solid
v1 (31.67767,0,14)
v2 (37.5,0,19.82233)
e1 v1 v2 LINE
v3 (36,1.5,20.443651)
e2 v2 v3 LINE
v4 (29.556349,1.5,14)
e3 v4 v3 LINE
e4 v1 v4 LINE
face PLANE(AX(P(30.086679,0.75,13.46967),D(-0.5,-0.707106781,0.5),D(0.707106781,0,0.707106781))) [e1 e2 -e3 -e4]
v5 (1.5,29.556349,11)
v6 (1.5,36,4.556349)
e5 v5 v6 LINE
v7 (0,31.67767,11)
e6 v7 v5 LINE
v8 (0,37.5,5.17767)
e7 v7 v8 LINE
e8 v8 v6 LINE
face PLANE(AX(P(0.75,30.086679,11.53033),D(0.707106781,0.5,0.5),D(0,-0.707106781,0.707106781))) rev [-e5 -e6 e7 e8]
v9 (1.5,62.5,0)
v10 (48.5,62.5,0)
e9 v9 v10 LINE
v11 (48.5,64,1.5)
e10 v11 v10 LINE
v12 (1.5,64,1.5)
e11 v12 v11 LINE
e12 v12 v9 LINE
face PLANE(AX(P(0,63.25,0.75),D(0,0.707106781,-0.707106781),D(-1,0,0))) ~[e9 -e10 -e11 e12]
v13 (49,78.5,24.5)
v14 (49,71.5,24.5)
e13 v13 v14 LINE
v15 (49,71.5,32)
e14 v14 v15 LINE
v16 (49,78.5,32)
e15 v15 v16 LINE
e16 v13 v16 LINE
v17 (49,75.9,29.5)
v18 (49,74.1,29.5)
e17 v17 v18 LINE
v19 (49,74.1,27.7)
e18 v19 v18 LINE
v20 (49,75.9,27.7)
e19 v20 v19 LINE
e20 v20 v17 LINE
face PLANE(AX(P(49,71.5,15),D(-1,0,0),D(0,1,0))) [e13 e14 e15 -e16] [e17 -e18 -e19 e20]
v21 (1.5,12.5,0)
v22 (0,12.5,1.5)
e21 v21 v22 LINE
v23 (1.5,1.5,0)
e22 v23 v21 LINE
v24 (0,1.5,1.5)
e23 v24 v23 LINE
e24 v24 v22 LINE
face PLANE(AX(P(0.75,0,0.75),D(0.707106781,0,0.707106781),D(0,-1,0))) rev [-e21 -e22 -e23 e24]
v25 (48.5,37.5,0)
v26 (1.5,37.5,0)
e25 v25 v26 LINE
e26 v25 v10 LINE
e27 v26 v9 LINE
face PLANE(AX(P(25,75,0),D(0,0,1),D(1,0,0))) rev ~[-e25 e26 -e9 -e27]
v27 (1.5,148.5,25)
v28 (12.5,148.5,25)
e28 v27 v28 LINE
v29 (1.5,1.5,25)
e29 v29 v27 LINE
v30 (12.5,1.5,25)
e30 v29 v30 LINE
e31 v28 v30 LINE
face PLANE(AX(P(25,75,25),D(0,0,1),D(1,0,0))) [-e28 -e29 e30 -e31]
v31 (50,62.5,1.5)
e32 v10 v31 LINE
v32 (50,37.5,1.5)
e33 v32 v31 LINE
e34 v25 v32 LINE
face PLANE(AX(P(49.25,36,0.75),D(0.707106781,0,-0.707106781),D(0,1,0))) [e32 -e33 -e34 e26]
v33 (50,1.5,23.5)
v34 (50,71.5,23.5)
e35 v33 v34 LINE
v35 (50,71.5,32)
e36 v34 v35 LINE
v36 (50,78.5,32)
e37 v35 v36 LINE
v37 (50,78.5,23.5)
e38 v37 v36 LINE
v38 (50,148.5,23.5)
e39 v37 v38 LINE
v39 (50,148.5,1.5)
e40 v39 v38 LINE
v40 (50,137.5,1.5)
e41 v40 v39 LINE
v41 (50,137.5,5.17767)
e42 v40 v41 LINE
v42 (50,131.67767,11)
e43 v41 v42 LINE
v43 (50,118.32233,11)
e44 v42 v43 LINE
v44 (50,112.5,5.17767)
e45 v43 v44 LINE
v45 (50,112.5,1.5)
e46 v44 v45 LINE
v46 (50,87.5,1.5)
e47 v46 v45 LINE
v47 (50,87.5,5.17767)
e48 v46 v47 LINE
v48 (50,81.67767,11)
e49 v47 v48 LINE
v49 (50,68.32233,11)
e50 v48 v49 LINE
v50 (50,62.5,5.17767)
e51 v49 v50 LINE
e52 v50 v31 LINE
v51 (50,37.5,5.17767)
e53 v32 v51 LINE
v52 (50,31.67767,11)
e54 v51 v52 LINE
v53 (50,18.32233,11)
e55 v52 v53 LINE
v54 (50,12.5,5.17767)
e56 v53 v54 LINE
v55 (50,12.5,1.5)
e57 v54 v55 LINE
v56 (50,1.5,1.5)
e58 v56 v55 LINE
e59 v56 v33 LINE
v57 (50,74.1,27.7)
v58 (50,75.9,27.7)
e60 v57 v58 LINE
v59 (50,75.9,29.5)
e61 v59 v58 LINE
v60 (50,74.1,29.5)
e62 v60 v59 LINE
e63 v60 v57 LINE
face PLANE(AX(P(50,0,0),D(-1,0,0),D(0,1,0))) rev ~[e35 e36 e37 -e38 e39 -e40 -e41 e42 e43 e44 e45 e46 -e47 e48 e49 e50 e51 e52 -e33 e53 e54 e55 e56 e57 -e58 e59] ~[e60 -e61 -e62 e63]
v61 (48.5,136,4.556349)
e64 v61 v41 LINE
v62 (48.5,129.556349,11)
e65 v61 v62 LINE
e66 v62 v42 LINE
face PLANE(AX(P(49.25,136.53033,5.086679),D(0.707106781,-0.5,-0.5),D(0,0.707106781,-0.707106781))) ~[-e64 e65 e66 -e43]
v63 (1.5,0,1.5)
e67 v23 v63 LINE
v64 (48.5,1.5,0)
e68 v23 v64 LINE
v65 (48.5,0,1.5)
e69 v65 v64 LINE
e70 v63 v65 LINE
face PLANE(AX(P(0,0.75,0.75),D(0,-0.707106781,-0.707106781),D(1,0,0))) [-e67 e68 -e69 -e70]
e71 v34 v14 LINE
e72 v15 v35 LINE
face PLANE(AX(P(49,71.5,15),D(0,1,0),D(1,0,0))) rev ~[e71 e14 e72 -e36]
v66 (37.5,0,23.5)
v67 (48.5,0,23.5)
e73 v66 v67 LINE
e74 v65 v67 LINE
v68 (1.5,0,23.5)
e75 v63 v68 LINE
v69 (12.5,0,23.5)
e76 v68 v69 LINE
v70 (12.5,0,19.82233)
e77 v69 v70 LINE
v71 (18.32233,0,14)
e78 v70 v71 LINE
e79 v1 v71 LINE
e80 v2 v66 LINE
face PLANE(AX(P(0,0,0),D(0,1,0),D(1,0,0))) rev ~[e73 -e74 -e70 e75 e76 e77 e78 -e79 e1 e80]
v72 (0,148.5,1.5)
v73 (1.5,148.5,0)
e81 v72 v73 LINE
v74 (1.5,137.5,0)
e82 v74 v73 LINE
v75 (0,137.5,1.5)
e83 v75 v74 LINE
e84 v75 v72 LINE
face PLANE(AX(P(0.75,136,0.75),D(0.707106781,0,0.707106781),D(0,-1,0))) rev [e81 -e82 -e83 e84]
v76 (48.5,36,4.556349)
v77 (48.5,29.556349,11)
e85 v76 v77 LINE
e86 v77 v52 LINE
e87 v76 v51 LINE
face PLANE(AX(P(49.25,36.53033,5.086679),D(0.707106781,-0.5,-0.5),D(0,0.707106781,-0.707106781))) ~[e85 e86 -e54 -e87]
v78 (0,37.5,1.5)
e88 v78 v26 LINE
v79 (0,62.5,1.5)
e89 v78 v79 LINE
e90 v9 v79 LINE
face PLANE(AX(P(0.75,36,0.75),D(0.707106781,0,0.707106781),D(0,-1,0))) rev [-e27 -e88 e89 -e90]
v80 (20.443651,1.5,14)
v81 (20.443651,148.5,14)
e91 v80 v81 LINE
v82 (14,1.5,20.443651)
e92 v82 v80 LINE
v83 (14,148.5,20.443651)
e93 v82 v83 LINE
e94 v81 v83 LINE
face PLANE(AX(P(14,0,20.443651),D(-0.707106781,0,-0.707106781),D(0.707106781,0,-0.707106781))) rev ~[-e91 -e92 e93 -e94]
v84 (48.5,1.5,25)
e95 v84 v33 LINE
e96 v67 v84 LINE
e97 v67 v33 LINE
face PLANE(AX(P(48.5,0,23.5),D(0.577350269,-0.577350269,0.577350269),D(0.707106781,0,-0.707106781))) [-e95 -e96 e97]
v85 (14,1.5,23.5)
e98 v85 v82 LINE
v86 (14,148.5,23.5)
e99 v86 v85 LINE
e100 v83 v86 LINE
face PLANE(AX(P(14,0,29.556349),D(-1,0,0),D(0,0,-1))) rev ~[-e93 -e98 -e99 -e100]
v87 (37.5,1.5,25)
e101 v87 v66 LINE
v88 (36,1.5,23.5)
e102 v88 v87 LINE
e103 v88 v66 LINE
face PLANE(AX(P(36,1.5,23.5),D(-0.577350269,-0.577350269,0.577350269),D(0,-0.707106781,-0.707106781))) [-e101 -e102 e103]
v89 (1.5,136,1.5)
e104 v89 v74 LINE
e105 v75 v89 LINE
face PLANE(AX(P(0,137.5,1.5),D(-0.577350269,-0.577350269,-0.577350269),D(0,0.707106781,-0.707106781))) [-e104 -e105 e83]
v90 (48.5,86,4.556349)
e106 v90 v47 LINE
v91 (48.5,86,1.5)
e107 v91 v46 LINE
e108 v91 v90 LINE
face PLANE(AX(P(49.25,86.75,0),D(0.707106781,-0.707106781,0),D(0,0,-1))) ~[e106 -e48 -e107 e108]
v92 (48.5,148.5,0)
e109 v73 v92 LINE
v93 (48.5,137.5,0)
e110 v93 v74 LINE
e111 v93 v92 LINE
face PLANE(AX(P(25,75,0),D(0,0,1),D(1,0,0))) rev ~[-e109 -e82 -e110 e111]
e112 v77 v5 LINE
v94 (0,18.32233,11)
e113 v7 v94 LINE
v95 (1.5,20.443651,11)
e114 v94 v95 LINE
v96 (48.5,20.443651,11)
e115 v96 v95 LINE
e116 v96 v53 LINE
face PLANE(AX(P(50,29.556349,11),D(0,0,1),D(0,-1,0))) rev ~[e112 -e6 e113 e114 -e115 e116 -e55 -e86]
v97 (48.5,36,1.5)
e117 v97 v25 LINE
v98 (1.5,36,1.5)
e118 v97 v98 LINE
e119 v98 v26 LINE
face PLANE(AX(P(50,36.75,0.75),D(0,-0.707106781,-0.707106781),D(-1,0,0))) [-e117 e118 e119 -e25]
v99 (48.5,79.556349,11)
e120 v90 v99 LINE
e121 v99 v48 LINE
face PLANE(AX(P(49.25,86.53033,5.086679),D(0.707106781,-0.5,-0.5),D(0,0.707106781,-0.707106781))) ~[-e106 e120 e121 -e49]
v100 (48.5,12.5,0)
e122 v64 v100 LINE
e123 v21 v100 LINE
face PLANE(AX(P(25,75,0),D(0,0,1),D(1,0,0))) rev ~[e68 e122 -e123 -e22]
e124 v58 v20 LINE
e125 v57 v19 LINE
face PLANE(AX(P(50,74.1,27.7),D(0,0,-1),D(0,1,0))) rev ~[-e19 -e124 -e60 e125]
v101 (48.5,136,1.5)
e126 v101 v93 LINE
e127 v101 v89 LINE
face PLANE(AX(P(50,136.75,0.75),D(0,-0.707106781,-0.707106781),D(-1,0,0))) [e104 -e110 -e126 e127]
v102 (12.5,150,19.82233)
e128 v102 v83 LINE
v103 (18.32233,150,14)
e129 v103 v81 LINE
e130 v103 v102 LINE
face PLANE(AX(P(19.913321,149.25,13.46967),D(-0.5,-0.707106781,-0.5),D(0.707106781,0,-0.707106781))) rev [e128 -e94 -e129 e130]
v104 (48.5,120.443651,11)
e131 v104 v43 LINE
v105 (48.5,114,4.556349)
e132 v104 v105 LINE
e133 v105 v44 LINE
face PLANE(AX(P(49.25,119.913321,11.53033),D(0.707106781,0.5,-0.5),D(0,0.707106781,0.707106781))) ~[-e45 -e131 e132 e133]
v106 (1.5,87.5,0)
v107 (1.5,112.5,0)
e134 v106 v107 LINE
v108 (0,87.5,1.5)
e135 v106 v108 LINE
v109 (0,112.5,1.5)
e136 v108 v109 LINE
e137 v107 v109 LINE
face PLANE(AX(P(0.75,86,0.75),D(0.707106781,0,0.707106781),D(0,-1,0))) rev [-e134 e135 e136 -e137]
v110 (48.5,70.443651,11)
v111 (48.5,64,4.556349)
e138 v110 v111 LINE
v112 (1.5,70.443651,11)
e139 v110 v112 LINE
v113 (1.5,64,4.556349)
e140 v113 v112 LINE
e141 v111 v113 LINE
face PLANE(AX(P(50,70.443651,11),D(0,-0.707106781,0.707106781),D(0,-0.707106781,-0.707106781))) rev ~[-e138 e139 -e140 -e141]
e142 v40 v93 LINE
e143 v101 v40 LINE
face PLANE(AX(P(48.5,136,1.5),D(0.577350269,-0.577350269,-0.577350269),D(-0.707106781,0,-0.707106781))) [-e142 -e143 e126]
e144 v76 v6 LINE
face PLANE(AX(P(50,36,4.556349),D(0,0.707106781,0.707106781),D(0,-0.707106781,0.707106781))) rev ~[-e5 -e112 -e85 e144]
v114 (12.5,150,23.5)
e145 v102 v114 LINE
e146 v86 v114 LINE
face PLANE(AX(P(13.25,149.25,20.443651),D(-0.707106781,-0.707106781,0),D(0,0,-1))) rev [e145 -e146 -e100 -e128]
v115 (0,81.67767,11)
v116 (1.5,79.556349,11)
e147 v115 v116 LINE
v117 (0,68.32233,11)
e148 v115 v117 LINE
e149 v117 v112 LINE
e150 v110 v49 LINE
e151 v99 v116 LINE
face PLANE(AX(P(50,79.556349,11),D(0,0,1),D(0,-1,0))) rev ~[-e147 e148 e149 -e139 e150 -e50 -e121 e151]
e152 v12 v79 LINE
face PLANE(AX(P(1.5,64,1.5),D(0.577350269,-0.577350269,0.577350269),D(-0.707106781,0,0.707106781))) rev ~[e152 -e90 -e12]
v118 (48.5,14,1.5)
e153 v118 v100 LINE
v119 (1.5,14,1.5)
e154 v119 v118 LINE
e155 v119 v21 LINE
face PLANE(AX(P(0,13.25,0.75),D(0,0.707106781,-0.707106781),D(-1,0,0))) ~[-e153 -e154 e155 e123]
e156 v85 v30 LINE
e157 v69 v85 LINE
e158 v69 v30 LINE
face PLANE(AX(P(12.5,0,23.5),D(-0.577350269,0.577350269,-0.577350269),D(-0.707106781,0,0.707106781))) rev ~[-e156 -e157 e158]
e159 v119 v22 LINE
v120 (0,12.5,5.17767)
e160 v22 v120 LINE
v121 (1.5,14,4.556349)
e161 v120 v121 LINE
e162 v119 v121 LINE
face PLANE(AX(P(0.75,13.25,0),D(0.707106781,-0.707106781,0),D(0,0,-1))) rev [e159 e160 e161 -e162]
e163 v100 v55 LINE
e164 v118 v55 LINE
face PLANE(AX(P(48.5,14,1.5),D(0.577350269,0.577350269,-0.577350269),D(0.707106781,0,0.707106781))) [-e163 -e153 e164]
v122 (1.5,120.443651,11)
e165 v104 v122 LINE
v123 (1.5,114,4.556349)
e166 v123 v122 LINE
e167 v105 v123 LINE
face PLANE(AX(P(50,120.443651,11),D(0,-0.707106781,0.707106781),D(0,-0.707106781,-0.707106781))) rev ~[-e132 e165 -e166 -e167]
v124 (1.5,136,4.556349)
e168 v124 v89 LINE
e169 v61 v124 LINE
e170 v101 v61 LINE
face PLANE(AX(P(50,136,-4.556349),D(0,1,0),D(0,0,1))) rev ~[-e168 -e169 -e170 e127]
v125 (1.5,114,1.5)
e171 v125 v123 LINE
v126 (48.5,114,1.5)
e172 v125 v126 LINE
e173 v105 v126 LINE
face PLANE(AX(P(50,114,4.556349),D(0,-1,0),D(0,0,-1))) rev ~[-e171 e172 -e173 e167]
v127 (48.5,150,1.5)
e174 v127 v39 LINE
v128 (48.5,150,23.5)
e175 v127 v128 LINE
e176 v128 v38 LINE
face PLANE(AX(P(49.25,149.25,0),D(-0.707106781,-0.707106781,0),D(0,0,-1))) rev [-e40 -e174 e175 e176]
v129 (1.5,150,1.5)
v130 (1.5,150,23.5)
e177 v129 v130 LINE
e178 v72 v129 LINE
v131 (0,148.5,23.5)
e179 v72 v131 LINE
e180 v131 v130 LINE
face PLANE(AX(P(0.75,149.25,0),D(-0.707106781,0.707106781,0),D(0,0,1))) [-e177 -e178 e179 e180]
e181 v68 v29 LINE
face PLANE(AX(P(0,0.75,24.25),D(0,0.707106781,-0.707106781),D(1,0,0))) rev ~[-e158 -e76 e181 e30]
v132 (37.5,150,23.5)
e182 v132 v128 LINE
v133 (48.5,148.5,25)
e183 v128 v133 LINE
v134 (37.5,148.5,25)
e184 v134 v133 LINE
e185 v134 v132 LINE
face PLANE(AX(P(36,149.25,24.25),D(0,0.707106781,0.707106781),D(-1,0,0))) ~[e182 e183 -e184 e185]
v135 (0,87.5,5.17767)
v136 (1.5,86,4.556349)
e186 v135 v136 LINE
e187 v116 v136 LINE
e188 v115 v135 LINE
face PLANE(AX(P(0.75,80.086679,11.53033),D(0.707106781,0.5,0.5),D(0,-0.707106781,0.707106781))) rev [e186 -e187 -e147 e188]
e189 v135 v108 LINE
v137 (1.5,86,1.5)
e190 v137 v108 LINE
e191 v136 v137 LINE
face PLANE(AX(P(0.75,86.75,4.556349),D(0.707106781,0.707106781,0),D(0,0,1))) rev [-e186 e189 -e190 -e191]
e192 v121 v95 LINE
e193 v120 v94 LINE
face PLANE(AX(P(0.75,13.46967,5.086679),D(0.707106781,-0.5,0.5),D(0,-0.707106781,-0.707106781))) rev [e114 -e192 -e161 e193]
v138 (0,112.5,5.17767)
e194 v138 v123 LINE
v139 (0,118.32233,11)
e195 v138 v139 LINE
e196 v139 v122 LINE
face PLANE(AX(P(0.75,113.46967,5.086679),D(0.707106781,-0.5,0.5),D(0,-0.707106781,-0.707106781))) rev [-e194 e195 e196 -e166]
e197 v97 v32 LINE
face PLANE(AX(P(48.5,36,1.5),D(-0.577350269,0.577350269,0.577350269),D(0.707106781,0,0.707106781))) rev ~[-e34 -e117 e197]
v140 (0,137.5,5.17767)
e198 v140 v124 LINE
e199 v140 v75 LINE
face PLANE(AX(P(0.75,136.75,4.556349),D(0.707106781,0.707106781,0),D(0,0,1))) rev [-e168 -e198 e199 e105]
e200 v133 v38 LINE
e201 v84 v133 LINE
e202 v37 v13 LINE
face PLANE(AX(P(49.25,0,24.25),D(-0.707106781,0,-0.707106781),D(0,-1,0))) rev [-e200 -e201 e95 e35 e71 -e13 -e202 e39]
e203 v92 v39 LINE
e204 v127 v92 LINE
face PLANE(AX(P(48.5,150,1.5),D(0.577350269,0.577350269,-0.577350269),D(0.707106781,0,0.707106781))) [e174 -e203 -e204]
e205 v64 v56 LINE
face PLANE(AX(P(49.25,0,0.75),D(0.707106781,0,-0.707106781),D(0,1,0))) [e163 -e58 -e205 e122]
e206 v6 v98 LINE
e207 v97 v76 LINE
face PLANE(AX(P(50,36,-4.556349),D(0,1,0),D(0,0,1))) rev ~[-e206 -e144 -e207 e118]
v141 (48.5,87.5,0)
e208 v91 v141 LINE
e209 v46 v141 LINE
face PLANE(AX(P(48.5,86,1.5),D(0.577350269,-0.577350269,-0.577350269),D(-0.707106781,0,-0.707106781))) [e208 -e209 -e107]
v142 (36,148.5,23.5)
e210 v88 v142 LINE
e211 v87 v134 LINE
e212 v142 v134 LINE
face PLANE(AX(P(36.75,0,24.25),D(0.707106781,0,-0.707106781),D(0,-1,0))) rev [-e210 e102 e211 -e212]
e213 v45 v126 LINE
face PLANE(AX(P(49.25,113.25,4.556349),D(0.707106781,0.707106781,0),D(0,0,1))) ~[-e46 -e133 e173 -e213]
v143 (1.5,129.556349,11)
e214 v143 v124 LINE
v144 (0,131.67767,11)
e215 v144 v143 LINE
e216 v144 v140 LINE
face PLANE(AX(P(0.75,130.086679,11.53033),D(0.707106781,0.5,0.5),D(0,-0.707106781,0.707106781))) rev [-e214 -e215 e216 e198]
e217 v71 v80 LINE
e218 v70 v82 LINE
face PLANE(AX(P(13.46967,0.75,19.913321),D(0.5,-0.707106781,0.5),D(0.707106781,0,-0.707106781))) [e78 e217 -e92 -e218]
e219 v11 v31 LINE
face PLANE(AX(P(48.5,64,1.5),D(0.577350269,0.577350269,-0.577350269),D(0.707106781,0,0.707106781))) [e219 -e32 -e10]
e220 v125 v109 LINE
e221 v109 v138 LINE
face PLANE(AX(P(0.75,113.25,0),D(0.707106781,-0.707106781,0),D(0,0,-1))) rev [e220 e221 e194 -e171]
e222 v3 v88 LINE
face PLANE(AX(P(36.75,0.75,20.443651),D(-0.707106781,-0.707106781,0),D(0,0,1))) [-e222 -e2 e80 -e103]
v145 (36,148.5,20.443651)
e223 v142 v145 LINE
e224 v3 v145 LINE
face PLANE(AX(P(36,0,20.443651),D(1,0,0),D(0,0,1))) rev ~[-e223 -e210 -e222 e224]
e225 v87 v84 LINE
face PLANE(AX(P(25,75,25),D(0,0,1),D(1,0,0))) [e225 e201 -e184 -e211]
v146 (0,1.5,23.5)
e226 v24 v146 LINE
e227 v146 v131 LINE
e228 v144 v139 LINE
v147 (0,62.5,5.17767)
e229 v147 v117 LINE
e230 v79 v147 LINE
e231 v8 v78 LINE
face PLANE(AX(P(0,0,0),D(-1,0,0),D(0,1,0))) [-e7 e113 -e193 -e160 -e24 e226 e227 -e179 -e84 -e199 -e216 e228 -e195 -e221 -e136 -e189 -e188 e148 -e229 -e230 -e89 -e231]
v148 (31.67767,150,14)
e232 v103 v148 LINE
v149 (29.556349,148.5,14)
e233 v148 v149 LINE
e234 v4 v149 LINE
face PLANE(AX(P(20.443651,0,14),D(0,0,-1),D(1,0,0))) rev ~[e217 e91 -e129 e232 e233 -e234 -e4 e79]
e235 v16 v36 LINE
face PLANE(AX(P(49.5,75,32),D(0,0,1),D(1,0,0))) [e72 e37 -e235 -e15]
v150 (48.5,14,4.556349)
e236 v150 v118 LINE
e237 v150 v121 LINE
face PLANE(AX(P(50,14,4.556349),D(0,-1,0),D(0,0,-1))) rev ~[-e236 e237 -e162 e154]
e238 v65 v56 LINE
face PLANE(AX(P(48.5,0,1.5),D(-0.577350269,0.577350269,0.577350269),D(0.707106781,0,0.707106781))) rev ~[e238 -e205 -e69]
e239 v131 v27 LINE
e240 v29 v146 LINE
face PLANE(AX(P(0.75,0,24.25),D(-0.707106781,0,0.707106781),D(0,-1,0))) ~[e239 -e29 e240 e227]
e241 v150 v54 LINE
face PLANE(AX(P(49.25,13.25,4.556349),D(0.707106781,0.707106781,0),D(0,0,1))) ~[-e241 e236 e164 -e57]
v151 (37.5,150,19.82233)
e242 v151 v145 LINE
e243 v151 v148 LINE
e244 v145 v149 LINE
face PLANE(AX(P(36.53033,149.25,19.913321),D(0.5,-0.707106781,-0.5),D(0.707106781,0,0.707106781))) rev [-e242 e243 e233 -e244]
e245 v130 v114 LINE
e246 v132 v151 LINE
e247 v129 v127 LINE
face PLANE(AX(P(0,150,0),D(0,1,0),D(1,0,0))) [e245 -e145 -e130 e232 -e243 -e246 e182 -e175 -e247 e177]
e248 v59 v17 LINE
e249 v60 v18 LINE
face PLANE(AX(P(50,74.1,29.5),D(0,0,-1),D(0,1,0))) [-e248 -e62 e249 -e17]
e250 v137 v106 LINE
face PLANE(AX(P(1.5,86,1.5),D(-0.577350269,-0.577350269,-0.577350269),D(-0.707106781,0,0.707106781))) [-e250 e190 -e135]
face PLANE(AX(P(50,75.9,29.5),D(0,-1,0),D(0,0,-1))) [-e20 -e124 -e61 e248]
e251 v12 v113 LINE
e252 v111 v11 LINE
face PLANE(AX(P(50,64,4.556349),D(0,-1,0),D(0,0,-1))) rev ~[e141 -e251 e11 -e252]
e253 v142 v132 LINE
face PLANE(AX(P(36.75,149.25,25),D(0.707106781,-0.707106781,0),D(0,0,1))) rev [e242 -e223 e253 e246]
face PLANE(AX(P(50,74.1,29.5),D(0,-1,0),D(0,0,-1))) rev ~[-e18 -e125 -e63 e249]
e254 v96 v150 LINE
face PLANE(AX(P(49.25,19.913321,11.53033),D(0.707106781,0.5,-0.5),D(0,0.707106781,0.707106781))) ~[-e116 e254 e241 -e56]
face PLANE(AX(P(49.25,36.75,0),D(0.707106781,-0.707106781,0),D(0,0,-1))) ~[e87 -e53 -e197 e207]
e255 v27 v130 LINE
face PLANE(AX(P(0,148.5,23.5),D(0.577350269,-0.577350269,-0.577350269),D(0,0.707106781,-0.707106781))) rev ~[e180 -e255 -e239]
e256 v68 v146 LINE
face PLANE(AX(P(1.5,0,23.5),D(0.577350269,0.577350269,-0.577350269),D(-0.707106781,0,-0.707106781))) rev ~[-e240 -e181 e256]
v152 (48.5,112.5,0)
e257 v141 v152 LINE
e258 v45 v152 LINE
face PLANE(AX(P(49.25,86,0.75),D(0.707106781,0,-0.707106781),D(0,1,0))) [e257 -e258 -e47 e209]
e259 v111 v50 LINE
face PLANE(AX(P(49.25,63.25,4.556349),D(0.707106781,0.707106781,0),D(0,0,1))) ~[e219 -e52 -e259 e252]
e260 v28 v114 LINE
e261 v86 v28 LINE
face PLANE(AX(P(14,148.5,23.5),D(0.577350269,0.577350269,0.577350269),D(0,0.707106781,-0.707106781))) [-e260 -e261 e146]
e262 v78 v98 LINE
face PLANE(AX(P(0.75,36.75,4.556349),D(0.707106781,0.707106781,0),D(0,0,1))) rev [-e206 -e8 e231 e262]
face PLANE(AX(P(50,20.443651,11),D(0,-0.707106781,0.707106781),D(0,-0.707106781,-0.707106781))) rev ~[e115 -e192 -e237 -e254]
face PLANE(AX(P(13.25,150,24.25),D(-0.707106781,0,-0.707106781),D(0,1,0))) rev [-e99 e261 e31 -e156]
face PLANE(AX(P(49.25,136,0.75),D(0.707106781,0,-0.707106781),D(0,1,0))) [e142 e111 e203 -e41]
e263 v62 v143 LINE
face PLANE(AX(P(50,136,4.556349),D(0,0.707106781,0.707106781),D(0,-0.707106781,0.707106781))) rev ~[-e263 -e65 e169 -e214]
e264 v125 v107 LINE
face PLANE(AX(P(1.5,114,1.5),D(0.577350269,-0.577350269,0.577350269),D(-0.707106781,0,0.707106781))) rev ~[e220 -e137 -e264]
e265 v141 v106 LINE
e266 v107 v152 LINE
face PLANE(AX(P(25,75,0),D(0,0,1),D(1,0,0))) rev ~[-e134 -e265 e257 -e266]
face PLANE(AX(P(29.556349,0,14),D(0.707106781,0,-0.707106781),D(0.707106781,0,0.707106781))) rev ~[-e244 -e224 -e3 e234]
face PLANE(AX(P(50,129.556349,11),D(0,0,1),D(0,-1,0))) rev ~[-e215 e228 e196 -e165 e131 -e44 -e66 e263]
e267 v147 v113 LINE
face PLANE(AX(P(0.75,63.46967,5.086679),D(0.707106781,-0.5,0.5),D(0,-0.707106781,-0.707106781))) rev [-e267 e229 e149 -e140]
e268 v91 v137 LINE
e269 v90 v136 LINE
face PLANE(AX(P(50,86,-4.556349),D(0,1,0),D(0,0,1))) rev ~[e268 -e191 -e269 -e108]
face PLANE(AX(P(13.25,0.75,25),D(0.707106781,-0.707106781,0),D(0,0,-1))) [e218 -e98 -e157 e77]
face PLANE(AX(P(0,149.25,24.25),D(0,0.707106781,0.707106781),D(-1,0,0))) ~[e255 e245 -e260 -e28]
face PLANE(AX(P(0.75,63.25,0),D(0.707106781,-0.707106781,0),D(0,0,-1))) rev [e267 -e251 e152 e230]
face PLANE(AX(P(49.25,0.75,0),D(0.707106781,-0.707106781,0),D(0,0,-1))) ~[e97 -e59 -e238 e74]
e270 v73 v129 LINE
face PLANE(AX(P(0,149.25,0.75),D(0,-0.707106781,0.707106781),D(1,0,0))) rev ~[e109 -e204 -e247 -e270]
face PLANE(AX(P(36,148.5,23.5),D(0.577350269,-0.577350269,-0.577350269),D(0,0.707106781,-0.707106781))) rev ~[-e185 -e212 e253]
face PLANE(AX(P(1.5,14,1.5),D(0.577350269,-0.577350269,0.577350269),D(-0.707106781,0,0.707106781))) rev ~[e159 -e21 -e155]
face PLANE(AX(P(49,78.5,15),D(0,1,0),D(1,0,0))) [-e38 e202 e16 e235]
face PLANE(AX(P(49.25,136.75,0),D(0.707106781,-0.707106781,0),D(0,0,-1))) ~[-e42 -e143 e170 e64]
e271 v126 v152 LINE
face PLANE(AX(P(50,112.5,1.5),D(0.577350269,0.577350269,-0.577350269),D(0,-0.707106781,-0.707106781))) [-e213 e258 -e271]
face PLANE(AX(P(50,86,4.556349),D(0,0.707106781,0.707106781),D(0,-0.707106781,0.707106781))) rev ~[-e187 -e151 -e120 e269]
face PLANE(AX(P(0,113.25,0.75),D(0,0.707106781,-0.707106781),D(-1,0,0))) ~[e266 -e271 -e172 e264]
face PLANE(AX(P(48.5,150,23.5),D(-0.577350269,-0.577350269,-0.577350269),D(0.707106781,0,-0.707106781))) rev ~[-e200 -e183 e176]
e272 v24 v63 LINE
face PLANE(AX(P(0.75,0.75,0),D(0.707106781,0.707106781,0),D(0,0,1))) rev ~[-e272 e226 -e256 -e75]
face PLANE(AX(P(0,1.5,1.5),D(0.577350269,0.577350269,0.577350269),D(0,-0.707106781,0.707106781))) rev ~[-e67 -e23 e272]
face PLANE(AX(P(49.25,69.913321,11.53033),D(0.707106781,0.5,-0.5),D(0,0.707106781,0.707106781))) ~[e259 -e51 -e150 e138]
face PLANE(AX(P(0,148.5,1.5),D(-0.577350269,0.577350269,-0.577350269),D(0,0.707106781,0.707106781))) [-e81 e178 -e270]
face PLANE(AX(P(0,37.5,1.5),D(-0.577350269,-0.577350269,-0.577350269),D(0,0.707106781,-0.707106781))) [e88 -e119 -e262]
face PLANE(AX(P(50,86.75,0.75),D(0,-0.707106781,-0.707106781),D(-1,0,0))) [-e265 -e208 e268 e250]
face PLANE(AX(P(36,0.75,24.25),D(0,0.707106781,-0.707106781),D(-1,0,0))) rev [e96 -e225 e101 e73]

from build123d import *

# Parameters (mm, degrees)
SKETCH1_W                = 50
SKETCH1_H                = 150
BOSS_EXTRUDE1_DEPTH      = 25
CUT_EXTRUDE1_DEPTH       = 161.078105936
CUT_EXTRUDE2_DEPTH       = 161.078105936
LPATTERN1_COUNT          = 3
LPATTERN1_PITCH          = 50
CHAMFER1_SIZE            = 1.5
BOSS_EXTRUDE2_DEPTH      = 7
BOSS_EXTRUDE2_DEPTH_BACK = 10
SKETCH4_W                = 1
SKETCH4_H                = 7
SKETCH5_W                = 1.8
SKETCH5_H                = 1.8
CUT_EXTRUDE3_DEPTH       = 7


with BuildPart() as part:
    # Sketch1 → Boss-Extrude1 (new body)
    with BuildSketch(Plane.XY):
        with Locations((25, 75)):
            Rectangle(SKETCH1_W, SKETCH1_H)
    extrude(amount=BOSS_EXTRUDE1_DEPTH)

    # Sketch2 → Cut-Extrude1 (cut, through all)
    with BuildSketch(Plane.XZ):
        Polygon((29.556349186, 36), (20.443650814, 36), (14, 29.556349186), (14, 20.443650814), (20.443650814, 14), (29.556349186, 14), (36, 20.443650814), (36, 29.556349186), align=None)
    extrude(amount=-CUT_EXTRUDE1_DEPTH, mode=Mode.SUBTRACT)

    # Sketch3 → Cut-Extrude2 (cut, through all)
    with BuildSketch(Plane(origin=(50, 0, 0), x_dir=(0, 0, -1), z_dir=(1, 0, 0))):
        Polygon((-4.556349186, 36), (-11, 29.556349186), (-11, 20.443650814), (-4.556349186, 14), (4.556349186, 14), (11, 20.443650814), (11, 29.556349186), (4.556349186, 36), align=None)
    cut_extrude2 = extrude(amount=-CUT_EXTRUDE2_DEPTH, mode=Mode.SUBTRACT)

    # LPattern1: Cut-Extrude2 ×3
    with Locations(*[(0, i * LPATTERN1_PITCH, 0) for i in range(1, LPATTERN1_COUNT)]):
        add(cut_extrude2, mode=Mode.SUBTRACT)

    # Chamfer1
    chamfer1_edges = [part.edges().sort_by_distance(p)[0] for p in [
        (50, 75, 25),
        (50, 143, 0),
        (50, 136, 2.278174593),
        (0, 100, 0),
        (25, 136, 0),
        (25, 114, 0),
        (0, 136, 2.278174593),
        (0, 114, 2.278174593),
        (0, 117.221825407, 7.778174593),
        (0, 132.778174593, 7.778174593),
        (50, 132.778174593, 7.778174593),
        (50, 117.221825407, 7.778174593),
        (50, 114, 2.278174593),
        (43, 150, 25),
        (43, 0, 25),
        (7, 150, 25),
        (14, 75, 25),
        (36, 75, 25),
        (36, 150, 22.721825407),
        (14, 150, 22.721825407),
        (36, 0, 22.721825407),
        (14, 0, 22.721825407),
        (17.221825407, 0, 17.221825407),
        (32.778174593, 0, 17.221825407),
        (32.778174593, 150, 17.221825407),
        (17.221825407, 150, 17.221825407),
        (0, 75, 25),
        (25, 150, 0),
        (50, 7, 0),
        (25, 0, 0),
        (0, 7, 0),
        (50, 50, 0),
        (25, 14, 0),
        (25, 36, 0),
        (0, 143, 0),
        (0, 36, 2.278174593),
        (0, 14, 2.278174593),
        (0, 17.221825407, 7.778174593),
        (0, 32.778174593, 7.778174593),
        (50, 36, 2.278174593),
        (50, 32.778174593, 7.778174593),
        (50, 17.221825407, 7.778174593),
        (50, 14, 2.278174593),
        (7, 0, 25),
        (0, 150, 12.5),
        (50, 150, 12.5),
        (50, 0, 12.5),
        (0, 0, 12.5),
        (50, 100, 0),
        (50, 86, 2.278174593),
        (0, 50, 0),
        (25, 86, 0),
        (25, 64, 0),
        (0, 86, 2.278174593),
        (0, 64, 2.278174593),
        (0, 67.221825407, 7.778174593),
        (0, 82.778174593, 7.778174593),
        (50, 82.778174593, 7.778174593),
        (50, 67.221825407, 7.778174593),
        (50, 64, 2.278174593),
    ]]
    chamfer(chamfer1_edges, length=CHAMFER1_SIZE)

    # Sketch4 → Boss-Extrude2 (add, two sides: drawn at the far end of the back side and taken through both)
    with BuildSketch(Plane.XY.offset(25).offset(-BOSS_EXTRUDE2_DEPTH_BACK)):
        with Locations((49.5, 75)):
            Rectangle(SKETCH4_W, SKETCH4_H)
    extrude(amount=BOSS_EXTRUDE2_DEPTH + BOSS_EXTRUDE2_DEPTH_BACK)

    # Sketch5 → Cut-Extrude3 (cut)
    with BuildSketch(Plane(origin=(50, 0, 0), x_dir=(0, 0, -1), z_dir=(1, 0, 0))):
        with Locations((-28.6, 75)):
            Rectangle(SKETCH5_W, SKETCH5_H)
    extrude(amount=-CUT_EXTRUDE3_DEPTH, mode=Mode.SUBTRACT)


solid = part.part
